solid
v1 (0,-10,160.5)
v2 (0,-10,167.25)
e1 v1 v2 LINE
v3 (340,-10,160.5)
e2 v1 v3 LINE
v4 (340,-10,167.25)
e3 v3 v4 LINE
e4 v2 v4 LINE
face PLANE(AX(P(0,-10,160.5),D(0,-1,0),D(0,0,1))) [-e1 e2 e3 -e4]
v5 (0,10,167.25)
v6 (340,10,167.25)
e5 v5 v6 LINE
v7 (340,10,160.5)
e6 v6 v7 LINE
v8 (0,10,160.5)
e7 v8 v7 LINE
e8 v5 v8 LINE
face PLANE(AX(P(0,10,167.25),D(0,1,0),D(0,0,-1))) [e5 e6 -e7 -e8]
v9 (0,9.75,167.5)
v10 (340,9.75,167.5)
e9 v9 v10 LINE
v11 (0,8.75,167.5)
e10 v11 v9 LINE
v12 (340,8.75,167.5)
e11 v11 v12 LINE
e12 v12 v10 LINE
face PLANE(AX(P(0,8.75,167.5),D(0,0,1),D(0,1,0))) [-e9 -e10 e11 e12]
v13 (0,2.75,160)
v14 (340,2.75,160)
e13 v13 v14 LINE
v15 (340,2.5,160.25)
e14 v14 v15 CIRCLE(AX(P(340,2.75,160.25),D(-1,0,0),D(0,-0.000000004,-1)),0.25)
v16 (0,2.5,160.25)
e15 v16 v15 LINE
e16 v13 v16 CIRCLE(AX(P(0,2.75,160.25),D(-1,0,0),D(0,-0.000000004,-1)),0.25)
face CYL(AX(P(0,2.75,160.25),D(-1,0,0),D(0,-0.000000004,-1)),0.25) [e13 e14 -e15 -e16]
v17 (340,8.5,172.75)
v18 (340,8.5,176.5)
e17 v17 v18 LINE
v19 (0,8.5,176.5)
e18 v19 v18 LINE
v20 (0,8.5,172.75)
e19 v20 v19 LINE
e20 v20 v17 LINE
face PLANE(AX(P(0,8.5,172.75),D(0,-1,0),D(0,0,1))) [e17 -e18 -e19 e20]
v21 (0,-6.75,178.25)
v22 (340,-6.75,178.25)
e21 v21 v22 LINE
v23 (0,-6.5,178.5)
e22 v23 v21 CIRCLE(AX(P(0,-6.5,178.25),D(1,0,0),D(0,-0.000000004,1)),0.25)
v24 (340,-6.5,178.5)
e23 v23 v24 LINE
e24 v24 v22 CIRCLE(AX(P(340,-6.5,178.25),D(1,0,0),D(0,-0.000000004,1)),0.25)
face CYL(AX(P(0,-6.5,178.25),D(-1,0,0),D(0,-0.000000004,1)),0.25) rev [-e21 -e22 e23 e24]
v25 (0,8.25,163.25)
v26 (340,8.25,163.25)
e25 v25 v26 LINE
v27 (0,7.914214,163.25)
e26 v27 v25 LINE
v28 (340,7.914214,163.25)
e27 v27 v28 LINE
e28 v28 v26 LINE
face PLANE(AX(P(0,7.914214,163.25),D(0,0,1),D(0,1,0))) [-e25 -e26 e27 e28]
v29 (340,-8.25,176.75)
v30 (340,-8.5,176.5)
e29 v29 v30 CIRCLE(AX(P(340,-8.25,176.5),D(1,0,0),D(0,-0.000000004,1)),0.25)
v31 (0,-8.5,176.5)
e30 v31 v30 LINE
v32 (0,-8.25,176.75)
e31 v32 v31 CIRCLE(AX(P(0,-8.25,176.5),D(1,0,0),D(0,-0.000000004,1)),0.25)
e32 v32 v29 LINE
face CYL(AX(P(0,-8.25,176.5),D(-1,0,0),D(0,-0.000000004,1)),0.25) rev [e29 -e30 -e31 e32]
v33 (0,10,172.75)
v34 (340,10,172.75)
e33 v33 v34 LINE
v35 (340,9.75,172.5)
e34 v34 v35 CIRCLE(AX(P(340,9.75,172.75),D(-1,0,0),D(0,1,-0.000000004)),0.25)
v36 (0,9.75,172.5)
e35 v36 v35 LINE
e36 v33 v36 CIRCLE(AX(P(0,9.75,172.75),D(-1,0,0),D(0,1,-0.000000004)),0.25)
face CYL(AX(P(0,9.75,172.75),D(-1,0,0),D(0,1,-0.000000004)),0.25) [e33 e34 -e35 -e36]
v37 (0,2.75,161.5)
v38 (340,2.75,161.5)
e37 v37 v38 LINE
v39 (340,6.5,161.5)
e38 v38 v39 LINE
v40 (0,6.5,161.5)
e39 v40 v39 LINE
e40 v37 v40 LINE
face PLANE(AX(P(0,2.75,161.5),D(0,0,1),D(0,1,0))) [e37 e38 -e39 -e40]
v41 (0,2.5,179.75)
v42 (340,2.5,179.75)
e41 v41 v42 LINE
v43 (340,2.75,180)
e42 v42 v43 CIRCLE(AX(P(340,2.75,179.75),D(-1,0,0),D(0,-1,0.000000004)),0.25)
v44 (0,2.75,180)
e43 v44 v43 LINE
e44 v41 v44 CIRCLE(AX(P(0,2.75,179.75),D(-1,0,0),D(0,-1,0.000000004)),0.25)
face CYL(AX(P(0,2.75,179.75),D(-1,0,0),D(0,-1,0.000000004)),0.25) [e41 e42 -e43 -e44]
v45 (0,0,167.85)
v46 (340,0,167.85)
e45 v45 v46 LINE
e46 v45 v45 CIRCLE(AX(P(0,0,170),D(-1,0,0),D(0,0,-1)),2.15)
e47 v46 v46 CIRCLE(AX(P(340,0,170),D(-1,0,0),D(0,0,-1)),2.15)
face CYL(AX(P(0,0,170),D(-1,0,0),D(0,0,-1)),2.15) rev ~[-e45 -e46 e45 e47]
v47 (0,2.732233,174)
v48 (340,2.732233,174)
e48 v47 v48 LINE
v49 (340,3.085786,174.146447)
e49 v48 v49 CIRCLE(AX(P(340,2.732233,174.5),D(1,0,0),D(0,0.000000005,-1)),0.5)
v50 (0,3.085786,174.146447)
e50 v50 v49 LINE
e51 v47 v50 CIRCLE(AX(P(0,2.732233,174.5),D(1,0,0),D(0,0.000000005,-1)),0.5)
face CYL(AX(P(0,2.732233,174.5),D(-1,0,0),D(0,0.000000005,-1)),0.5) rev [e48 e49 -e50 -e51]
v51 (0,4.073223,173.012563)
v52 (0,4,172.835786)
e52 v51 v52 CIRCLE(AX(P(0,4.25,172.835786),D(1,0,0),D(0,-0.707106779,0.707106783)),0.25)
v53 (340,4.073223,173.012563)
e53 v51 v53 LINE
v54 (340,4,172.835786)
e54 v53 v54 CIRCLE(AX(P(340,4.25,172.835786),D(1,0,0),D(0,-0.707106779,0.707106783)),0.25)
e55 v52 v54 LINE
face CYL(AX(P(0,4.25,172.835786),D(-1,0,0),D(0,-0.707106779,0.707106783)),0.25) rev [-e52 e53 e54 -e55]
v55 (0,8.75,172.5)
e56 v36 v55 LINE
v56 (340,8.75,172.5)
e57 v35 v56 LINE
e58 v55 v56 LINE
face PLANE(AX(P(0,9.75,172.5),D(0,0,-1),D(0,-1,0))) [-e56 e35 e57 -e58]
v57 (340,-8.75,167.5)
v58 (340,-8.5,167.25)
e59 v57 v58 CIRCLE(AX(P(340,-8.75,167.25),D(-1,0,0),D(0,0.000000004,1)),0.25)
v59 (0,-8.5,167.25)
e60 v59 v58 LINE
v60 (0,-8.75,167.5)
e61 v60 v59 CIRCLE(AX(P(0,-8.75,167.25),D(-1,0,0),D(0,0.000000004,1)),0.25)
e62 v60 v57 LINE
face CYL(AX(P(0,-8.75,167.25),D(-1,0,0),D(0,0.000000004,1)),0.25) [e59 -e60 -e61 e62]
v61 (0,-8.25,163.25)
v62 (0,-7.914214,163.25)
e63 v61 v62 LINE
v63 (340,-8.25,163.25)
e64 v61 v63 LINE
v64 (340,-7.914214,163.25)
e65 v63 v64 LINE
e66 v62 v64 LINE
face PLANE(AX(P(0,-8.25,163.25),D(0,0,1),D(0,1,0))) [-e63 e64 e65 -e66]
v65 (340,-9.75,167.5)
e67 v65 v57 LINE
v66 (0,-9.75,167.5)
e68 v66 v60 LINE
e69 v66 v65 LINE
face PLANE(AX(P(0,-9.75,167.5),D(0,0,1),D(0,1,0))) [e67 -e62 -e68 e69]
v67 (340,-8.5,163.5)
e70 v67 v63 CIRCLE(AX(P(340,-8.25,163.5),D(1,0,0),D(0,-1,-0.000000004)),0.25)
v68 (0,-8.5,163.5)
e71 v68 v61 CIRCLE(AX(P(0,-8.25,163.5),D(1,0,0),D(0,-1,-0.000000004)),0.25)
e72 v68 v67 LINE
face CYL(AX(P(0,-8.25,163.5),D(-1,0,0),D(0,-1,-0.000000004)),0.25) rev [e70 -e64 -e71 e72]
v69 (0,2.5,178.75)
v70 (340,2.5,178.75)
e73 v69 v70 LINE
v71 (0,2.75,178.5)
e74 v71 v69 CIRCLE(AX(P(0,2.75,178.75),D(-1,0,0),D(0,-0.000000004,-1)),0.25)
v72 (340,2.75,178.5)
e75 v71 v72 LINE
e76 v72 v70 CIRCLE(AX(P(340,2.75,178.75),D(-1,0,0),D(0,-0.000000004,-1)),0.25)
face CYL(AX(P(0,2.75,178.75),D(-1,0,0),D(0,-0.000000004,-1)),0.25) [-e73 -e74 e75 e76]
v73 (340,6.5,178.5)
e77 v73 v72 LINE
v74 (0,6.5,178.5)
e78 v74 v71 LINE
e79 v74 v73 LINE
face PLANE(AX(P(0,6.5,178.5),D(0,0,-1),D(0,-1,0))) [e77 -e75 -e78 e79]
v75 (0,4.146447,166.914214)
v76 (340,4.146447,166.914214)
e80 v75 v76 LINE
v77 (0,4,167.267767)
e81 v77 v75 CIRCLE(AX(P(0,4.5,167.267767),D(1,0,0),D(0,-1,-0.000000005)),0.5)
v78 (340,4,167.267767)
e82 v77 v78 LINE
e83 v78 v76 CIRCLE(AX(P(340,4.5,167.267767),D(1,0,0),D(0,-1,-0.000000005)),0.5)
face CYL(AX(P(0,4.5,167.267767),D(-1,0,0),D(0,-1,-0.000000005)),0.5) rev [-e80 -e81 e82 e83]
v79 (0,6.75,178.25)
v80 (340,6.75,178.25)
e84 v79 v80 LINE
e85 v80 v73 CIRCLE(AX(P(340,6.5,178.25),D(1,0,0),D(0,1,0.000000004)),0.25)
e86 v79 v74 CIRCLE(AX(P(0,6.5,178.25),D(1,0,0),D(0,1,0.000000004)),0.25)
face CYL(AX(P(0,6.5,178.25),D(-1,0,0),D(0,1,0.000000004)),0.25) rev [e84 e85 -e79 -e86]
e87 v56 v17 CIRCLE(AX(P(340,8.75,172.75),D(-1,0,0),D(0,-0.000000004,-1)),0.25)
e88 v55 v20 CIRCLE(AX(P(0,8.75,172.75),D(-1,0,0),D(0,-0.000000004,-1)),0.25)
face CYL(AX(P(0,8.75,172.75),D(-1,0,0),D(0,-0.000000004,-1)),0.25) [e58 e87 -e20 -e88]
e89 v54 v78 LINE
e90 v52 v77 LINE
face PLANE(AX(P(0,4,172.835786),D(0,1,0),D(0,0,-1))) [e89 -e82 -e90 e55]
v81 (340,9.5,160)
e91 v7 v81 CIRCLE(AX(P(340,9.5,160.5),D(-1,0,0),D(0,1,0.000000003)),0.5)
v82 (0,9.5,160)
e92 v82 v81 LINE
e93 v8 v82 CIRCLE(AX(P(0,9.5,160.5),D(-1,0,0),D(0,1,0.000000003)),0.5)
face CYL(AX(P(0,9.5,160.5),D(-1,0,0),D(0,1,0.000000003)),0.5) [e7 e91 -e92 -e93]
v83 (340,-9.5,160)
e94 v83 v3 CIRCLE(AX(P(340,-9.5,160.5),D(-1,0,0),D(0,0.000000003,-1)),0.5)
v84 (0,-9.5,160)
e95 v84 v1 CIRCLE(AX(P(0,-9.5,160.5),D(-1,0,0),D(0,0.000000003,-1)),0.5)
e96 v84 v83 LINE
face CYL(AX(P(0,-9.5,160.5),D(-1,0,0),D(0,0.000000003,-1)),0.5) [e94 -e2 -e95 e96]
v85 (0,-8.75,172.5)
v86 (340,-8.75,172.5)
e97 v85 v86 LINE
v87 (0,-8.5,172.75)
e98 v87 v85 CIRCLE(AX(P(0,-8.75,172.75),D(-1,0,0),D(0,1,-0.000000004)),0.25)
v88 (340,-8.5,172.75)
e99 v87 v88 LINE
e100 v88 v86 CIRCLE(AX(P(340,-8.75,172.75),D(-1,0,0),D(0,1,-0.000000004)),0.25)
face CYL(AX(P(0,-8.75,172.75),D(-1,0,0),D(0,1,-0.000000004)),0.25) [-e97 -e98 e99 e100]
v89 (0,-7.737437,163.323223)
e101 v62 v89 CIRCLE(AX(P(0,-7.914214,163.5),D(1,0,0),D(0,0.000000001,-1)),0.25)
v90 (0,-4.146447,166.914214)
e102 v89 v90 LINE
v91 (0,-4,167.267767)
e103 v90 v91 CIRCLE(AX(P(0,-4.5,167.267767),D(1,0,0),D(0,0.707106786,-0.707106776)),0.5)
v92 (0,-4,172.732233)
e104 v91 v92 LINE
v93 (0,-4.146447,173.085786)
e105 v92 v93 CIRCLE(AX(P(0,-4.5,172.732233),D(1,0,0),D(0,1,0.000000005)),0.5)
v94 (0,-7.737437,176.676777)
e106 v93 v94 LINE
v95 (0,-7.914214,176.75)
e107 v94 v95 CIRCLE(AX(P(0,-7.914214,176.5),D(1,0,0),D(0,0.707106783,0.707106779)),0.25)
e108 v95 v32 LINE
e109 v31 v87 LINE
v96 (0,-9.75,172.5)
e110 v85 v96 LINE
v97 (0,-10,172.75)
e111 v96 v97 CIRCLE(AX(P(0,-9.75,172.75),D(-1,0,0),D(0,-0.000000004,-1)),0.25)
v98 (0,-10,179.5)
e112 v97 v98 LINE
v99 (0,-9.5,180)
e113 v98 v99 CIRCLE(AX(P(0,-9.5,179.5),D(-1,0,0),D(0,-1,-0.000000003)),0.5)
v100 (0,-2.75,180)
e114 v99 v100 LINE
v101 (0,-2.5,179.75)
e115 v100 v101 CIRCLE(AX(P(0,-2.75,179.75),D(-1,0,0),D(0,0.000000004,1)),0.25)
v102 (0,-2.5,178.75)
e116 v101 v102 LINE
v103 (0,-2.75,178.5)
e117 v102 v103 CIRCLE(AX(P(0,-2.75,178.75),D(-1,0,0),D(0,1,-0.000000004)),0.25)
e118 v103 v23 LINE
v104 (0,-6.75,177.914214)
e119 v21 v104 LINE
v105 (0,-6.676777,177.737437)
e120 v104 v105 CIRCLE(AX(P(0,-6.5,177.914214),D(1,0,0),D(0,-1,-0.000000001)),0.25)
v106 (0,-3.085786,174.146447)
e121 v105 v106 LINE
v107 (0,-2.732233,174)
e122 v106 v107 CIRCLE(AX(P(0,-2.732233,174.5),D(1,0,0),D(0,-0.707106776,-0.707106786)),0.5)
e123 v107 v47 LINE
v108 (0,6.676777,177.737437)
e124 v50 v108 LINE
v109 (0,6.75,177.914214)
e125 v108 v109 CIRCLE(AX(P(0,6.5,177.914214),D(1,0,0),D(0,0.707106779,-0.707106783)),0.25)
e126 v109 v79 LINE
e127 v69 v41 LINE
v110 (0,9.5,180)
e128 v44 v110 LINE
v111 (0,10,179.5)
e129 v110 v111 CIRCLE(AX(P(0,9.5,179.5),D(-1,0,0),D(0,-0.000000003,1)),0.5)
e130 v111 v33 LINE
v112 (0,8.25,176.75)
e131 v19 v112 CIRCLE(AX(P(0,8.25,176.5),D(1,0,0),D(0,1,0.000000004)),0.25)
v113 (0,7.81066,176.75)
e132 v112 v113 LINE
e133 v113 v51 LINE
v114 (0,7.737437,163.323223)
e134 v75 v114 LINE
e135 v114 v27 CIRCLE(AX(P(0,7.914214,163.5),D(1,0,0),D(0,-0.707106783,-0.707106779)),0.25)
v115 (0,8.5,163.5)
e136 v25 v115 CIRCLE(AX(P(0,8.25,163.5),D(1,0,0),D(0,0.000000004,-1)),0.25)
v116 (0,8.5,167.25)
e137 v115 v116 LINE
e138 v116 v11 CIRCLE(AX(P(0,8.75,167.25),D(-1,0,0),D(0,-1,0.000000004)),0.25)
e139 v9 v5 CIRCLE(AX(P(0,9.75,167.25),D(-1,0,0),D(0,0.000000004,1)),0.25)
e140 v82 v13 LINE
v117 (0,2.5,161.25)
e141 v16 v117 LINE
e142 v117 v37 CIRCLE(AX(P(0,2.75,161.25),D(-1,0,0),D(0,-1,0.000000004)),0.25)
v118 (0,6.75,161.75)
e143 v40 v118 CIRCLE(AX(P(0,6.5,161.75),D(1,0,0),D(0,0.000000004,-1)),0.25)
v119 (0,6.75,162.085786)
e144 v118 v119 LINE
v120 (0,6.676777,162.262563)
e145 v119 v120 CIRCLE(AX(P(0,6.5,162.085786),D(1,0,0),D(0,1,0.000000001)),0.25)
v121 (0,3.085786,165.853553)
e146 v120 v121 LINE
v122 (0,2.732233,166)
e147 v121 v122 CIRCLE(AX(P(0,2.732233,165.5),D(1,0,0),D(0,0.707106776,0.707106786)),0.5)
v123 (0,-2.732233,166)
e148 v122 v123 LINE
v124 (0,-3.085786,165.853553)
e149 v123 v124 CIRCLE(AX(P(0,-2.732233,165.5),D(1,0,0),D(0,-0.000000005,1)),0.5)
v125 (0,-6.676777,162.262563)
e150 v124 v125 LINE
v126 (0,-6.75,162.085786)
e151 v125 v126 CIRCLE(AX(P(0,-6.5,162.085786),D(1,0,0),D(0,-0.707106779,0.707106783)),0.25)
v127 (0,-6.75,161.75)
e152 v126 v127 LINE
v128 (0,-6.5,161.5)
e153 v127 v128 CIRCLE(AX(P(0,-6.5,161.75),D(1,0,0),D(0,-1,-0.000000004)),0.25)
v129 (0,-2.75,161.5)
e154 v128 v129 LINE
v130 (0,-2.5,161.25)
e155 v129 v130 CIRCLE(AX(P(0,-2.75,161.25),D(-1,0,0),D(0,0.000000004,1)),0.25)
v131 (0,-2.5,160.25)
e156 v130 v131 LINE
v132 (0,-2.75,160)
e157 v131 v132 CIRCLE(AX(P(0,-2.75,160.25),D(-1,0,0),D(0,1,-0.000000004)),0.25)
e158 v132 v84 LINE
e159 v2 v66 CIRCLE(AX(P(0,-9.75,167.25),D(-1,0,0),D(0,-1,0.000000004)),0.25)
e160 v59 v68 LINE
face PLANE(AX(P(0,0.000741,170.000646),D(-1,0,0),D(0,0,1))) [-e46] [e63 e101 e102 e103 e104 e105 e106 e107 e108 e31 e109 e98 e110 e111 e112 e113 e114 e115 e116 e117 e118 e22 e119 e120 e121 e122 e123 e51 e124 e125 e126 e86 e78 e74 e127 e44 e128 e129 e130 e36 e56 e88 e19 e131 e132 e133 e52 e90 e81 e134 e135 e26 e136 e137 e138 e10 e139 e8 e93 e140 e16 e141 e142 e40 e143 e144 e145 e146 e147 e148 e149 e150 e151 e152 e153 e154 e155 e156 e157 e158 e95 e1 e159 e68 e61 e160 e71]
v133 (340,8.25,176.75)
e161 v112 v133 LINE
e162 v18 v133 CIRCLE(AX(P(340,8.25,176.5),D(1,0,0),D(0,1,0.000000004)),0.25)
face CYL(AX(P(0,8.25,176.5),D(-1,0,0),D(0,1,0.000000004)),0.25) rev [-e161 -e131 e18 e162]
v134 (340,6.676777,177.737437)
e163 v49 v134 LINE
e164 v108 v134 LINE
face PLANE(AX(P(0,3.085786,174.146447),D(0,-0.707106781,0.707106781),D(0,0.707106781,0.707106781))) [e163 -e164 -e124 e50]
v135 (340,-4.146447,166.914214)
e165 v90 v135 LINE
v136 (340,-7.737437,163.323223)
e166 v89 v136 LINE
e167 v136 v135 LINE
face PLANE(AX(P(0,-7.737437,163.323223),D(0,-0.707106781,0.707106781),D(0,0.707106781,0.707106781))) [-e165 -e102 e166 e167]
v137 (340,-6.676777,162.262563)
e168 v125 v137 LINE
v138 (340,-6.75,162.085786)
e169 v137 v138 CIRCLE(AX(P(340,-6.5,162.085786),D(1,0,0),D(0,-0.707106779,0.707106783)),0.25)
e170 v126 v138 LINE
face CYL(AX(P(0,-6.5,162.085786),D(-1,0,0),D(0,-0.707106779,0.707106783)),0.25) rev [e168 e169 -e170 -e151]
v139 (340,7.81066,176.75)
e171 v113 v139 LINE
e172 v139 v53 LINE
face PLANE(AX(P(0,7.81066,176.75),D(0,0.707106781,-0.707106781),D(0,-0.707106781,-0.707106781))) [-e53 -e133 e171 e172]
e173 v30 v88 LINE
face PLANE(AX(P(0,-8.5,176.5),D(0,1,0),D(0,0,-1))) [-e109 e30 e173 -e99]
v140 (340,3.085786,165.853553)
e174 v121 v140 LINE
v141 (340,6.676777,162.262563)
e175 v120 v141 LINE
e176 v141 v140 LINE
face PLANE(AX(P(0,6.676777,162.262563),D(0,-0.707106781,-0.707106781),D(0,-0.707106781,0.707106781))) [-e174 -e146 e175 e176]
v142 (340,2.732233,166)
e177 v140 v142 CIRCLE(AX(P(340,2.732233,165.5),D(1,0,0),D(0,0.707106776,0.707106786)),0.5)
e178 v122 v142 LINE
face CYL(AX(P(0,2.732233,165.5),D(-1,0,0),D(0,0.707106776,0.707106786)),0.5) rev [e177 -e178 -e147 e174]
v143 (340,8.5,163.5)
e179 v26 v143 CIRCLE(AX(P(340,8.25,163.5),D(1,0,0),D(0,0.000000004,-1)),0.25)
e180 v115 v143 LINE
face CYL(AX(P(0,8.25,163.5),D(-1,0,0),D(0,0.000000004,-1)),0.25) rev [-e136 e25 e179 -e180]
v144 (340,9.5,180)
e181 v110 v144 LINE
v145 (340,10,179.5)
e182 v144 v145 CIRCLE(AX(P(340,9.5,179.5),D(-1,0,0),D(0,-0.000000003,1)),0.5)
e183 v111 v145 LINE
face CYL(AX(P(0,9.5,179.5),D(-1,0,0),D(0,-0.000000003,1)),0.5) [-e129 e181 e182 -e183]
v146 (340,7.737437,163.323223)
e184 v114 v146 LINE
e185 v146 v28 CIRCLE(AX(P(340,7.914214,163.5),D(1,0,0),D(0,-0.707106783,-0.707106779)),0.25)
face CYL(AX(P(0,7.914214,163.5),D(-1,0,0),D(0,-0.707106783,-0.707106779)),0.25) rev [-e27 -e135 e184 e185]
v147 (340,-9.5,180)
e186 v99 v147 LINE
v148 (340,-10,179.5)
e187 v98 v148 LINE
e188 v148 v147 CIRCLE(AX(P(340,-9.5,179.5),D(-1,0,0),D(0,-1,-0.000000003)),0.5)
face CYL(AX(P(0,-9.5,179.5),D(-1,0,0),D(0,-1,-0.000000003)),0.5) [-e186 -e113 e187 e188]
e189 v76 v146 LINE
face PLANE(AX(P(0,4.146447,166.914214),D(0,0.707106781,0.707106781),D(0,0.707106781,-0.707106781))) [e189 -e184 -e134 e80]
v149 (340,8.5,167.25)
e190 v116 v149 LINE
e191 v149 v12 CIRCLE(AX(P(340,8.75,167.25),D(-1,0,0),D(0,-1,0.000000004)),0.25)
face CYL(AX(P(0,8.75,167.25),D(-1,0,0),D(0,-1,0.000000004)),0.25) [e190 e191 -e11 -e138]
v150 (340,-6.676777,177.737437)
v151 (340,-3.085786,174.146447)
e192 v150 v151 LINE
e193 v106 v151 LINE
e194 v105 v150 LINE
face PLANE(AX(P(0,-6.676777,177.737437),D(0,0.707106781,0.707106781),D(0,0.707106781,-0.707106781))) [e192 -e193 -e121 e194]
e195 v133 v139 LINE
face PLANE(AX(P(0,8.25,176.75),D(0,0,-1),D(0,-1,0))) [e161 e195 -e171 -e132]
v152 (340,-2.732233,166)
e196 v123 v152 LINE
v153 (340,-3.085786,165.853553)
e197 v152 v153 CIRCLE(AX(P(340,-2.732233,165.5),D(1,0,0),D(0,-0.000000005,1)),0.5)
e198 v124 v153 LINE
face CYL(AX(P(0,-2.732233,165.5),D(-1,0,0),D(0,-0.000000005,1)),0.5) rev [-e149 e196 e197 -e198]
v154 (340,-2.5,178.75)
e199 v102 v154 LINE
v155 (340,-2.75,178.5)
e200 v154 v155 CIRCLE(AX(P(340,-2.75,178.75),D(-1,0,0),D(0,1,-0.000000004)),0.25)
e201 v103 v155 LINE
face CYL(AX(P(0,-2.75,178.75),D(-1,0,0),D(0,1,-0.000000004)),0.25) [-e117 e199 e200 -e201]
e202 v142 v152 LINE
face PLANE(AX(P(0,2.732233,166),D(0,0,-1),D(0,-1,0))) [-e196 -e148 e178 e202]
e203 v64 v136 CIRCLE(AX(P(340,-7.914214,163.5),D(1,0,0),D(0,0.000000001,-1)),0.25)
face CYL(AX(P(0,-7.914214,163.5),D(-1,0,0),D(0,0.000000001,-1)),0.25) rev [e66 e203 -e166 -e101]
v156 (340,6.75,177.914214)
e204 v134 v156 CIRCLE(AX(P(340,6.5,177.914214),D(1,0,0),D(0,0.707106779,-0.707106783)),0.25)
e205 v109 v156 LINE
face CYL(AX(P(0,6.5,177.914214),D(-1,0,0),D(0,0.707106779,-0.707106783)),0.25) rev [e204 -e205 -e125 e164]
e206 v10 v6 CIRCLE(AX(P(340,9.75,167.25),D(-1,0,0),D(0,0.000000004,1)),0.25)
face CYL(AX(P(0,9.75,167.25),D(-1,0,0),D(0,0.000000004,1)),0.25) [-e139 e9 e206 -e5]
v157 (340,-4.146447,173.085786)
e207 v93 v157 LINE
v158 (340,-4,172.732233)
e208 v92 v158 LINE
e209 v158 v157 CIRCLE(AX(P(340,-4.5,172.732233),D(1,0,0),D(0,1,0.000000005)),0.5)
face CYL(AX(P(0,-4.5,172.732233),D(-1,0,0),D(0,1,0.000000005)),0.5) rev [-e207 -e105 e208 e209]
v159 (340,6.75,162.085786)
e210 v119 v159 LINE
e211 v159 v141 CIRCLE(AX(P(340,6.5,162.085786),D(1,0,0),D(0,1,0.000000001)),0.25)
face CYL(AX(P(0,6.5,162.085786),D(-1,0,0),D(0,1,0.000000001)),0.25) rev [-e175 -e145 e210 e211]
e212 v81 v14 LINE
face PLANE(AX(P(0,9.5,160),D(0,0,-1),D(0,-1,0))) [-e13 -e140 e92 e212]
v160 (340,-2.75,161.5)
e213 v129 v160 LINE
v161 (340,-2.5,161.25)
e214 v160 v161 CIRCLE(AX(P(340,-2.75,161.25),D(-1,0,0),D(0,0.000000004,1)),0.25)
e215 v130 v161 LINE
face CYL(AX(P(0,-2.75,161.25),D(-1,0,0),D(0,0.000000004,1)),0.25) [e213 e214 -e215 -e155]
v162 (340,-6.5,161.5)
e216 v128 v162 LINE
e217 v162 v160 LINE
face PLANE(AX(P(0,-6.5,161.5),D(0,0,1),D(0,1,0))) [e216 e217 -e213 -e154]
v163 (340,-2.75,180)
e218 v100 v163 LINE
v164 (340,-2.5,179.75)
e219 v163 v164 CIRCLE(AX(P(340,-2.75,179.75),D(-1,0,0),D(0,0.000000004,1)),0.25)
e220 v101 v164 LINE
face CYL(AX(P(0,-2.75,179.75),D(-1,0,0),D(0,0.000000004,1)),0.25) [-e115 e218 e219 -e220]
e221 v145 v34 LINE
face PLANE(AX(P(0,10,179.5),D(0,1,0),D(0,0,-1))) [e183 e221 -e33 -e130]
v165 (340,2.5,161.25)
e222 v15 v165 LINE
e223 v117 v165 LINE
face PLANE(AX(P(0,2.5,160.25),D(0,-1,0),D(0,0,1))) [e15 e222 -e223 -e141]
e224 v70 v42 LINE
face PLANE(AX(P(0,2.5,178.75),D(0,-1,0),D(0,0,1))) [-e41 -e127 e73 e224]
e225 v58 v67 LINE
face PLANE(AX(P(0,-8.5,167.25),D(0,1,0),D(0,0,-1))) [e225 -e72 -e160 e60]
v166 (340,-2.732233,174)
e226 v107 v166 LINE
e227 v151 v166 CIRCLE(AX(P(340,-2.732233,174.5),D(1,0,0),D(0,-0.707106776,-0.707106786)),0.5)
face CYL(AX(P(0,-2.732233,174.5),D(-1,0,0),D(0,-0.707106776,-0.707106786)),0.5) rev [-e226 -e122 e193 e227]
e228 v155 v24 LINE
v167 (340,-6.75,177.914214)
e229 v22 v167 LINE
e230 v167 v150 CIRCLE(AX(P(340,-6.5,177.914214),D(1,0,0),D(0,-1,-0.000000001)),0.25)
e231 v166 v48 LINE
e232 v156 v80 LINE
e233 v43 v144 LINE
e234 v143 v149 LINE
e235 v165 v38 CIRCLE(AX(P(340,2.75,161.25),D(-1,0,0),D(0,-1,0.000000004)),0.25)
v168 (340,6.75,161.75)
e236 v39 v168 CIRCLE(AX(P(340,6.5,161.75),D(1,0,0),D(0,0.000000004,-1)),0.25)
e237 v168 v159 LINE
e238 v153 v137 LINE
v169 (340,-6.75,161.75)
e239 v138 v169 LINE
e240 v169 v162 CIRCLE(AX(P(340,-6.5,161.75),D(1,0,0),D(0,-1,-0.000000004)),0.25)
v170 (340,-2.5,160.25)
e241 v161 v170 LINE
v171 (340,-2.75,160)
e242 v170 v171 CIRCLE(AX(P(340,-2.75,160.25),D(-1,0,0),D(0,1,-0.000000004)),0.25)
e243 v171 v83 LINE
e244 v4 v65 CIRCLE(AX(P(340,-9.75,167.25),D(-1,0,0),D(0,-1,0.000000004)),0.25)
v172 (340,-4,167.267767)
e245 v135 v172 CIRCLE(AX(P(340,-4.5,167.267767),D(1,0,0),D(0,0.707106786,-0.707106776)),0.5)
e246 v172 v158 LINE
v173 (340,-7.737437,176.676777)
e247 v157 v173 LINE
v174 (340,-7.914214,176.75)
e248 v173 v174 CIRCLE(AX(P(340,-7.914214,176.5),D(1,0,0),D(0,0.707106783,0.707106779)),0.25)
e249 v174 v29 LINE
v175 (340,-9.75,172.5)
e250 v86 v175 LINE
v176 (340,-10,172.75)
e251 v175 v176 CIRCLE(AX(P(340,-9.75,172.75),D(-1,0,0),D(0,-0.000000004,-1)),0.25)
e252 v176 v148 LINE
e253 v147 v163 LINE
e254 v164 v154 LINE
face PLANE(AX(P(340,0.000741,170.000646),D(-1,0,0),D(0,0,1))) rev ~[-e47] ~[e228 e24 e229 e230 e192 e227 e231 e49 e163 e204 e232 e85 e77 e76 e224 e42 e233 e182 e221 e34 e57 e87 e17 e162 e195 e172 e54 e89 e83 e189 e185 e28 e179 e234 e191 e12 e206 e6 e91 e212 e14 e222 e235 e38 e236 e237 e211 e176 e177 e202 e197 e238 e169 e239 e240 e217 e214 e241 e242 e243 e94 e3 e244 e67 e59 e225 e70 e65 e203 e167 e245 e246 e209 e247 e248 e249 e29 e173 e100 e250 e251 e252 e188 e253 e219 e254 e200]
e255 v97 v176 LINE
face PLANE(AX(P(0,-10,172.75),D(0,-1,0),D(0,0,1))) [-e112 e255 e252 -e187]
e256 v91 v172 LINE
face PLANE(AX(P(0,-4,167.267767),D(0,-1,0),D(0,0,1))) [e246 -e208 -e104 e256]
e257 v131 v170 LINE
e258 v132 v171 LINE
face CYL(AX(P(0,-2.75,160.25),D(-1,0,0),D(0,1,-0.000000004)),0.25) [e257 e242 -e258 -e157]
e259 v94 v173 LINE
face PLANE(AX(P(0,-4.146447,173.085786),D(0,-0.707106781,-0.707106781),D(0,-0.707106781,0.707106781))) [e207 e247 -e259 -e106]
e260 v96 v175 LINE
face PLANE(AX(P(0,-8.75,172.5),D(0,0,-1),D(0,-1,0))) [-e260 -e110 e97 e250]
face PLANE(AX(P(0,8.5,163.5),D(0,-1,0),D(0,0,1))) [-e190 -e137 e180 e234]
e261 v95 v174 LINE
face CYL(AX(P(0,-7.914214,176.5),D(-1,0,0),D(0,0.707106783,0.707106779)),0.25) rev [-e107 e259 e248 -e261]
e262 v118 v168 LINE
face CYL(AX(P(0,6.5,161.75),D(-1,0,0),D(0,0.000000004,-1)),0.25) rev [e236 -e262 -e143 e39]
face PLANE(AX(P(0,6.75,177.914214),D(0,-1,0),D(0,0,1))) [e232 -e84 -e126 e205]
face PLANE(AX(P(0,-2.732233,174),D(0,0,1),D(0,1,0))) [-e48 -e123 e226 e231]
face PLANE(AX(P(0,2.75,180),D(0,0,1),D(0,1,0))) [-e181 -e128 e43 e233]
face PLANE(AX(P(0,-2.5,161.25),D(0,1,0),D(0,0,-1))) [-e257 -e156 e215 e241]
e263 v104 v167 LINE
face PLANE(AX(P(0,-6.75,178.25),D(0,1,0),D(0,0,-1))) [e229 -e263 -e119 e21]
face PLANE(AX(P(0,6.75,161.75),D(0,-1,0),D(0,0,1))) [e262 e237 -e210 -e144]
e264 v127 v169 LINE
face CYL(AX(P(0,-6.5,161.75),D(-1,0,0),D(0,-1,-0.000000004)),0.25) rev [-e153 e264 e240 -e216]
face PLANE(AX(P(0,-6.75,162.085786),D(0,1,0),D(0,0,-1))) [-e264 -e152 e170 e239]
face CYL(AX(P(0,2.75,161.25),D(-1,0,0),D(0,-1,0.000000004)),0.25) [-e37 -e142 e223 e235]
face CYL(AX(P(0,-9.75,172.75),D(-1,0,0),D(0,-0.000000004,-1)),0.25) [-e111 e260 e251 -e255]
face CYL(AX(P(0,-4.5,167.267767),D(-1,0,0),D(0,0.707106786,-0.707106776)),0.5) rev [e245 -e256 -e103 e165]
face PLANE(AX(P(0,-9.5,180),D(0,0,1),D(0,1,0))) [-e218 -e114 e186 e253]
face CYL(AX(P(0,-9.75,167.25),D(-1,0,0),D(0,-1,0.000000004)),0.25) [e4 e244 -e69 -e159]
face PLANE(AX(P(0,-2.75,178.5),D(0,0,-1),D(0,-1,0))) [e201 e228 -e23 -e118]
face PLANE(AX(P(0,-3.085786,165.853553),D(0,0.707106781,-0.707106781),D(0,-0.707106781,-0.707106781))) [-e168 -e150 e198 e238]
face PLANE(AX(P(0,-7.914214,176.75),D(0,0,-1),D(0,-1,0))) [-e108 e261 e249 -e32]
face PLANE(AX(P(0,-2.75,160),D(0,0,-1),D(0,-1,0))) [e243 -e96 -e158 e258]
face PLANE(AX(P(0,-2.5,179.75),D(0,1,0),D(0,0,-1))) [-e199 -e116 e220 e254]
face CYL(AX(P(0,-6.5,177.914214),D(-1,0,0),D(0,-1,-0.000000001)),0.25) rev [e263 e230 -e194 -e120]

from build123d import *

# Parameters (mm, degrees)
SKETCH_1_R      = 2.15
EXTRUDE_1_DEPTH = 340


with BuildPart() as part:
    # Эскиз1 → Бобышка-Вытянуть1 (new body)
    with BuildSketch(Plane(origin=(0, 0, 170), x_dir=(0, 0, 1), z_dir=(-1, 0, 0))):
        with BuildLine():
            Line((-10, -2.75), (-10, -9.5))
            ThreePointArc((-10, -9.5), (-9.853553391, -9.853553391), (-9.5, -10))
            Line((-9.5, -10), (-2.75, -10))
            ThreePointArc((-2.75, -10), (-2.573223305, -9.926776695), (-2.5, -9.75))
            Line((-2.5, -9.75), (-2.5, -8.75))
            ThreePointArc((-2.5, -8.75), (-2.573223305, -8.573223305), (-2.75, -8.5))
            Line((-2.75, -8.5), (-6.5, -8.5))
            ThreePointArc((-6.5, -8.5), (-6.676776695, -8.426776695), (-6.75, -8.25))
            Line((-6.75, -8.25), (-6.75, -7.914213562))
            ThreePointArc((-6.75, -7.914213562), (-6.730969883, -7.818542704), (-6.676776695, -7.737436867))
            Line((-6.676776695, -7.737436867), (-3.085786438, -4.146446609))
            ThreePointArc((-3.085786438, -4.146446609), (-2.923574763, -4.038060234), (-2.732233047, -4))
            Line((-2.732233047, -4), (2.732233047, -4))
            ThreePointArc((2.732233047, -4), (2.923574763, -4.038060234), (3.085786438, -4.146446609))
            Line((3.085786438, -4.146446609), (6.676776695, -7.737436867))
            ThreePointArc((6.676776695, -7.737436867), (6.730969883, -7.818542704), (6.75, -7.914213562))
            Line((6.75, -7.914213562), (6.75, -8.25))
            ThreePointArc((6.75, -8.25), (6.676776695, -8.426776695), (6.5, -8.5))
            Line((6.5, -8.5), (2.75, -8.5))
            ThreePointArc((2.75, -8.5), (2.573223305, -8.573223305), (2.5, -8.75))
            Line((2.5, -8.75), (2.5, -9.75))
            ThreePointArc((2.5, -9.75), (2.573223305, -9.926776695), (2.75, -10))
            Line((2.75, -10), (9.5, -10))
            ThreePointArc((9.5, -10), (9.853553391, -9.853553391), (10, -9.5))
            Line((10, -9.5), (10, -2.75))
            ThreePointArc((10, -2.75), (9.926776695, -2.573223305), (9.75, -2.5))
            Line((9.75, -2.5), (8.75, -2.5))
            ThreePointArc((8.75, -2.5), (8.573223305, -2.573223305), (8.5, -2.75))
            Line((8.5, -2.75), (8.5, -6.5))
            ThreePointArc((8.5, -6.5), (8.426776695, -6.676776695), (8.25, -6.75))
            Line((8.25, -6.75), (7.914213562, -6.75))
            ThreePointArc((7.914213562, -6.75), (7.818542704, -6.730969883), (7.737436867, -6.676776695))
            Line((7.737436867, -6.676776695), (4.146446609, -3.085786438))
            ThreePointArc((4.146446609, -3.085786438), (4.038060234, -2.923574763), (4, -2.732233047))
            Line((4, -2.732233047), (4, 2.732233047))
            ThreePointArc((4, 2.732233047), (4.038060234, 2.923574763), (4.146446609, 3.085786438))
            Line((4.146446609, 3.085786438), (7.737436867, 6.676776695))
            ThreePointArc((7.737436867, 6.676776695), (7.818542704, 6.730969883), (7.914213562, 6.75))
            Line((7.914213562, 6.75), (8.25, 6.75))
            ThreePointArc((8.25, 6.75), (8.426776695, 6.676776695), (8.5, 6.5))
            Line((8.5, 6.5), (8.5, 2.75))
            ThreePointArc((8.5, 2.75), (8.573223305, 2.573223305), (8.75, 2.5))
            Line((8.75, 2.5), (9.75, 2.5))
            ThreePointArc((9.75, 2.5), (9.926776695, 2.573223305), (10, 2.75))
            Line((10, 2.75), (10, 9.5))
            ThreePointArc((10, 9.5), (9.853553391, 9.853553391), (9.5, 10))
            Line((9.5, 10), (2.75, 10))
            ThreePointArc((2.75, 10), (2.573223305, 9.926776695), (2.5, 9.75))
            Line((2.5, 9.75), (2.5, 8.75))
            ThreePointArc((2.5, 8.75), (2.573223305, 8.573223305), (2.75, 8.5))
            Line((2.75, 8.5), (6.5, 8.5))
            ThreePointArc((6.5, 8.5), (6.676776695, 8.426776695), (6.75, 8.25))
            Line((6.75, 8.25), (6.75, 7.810660172))
            Line((6.75, 7.810660172), (3.012563133, 4.073223305))
            ThreePointArc((3.012563133, 4.073223305), (2.931457296, 4.019030117), (2.835786438, 4))
            Line((2.835786438, 4), (-2.732233047, 4))
            ThreePointArc((-2.732233047, 4), (-2.923574763, 4.038060234), (-3.085786438, 4.146446609))
            Line((-3.085786438, 4.146446609), (-6.676776695, 7.737436867))
            ThreePointArc((-6.676776695, 7.737436867), (-6.730969883, 7.818542704), (-6.75, 7.914213562))
            Line((-6.75, 7.914213562), (-6.75, 8.25))
            ThreePointArc((-6.75, 8.25), (-6.676776695, 8.426776695), (-6.5, 8.5))
            Line((-6.5, 8.5), (-2.75, 8.5))
            ThreePointArc((-2.75, 8.5), (-2.573223305, 8.573223305), (-2.5, 8.75))
            Line((-2.5, 8.75), (-2.5, 9.75))
            ThreePointArc((-2.5, 9.75), (-2.573223305, 9.926776695), (-2.75, 10))
            Line((-2.75, 10), (-9.5, 10))
            ThreePointArc((-9.5, 10), (-9.853553391, 9.853553391), (-10, 9.5))
            Line((-10, 9.5), (-10, 2.75))
            ThreePointArc((-10, 2.75), (-9.926776695, 2.573223305), (-9.75, 2.5))
            Line((-9.75, 2.5), (-8.75, 2.5))
            ThreePointArc((-8.75, 2.5), (-8.573223305, 2.573223305), (-8.5, 2.75))
            Line((-8.5, 2.75), (-8.5, 6.5))
            ThreePointArc((-8.5, 6.5), (-8.426776695, 6.676776695), (-8.25, 6.75))
            Line((-8.25, 6.75), (-7.914213562, 6.75))
            ThreePointArc((-7.914213562, 6.75), (-7.818542704, 6.730969883), (-7.737436867, 6.676776695))
            Line((-7.737436867, 6.676776695), (-4.146446609, 3.085786438))
            ThreePointArc((-4.146446609, 3.085786438), (-4.038060234, 2.923574763), (-4, 2.732233047))
            Line((-4, 2.732233047), (-4, -2.732233047))
            ThreePointArc((-4, -2.732233047), (-4.038060234, -2.923574763), (-4.146446609, -3.085786438))
            Line((-4.146446609, -3.085786438), (-7.737436867, -6.676776695))
            ThreePointArc((-7.737436867, -6.676776695), (-7.818542704, -6.730969883), (-7.914213562, -6.75))
            Line((-7.914213562, -6.75), (-8.25, -6.75))
            ThreePointArc((-8.25, -6.75), (-8.426776695, -6.676776695), (-8.5, -6.5))
            Line((-8.5, -6.5), (-8.5, -2.75))
            ThreePointArc((-8.5, -2.75), (-8.573223305, -2.573223305), (-8.75, -2.5))
            Line((-8.75, -2.5), (-9.75, -2.5))
            ThreePointArc((-9.75, -2.5), (-9.926776695, -2.573223305), (-10, -2.75))
        make_face()
        with Locations(Location((0, 0, 0), (0, 0, 180))):
            Circle(SKETCH_1_R, mode=Mode.SUBTRACT)
    extrude(amount=-EXTRUDE_1_DEPTH)


solid = part.part
